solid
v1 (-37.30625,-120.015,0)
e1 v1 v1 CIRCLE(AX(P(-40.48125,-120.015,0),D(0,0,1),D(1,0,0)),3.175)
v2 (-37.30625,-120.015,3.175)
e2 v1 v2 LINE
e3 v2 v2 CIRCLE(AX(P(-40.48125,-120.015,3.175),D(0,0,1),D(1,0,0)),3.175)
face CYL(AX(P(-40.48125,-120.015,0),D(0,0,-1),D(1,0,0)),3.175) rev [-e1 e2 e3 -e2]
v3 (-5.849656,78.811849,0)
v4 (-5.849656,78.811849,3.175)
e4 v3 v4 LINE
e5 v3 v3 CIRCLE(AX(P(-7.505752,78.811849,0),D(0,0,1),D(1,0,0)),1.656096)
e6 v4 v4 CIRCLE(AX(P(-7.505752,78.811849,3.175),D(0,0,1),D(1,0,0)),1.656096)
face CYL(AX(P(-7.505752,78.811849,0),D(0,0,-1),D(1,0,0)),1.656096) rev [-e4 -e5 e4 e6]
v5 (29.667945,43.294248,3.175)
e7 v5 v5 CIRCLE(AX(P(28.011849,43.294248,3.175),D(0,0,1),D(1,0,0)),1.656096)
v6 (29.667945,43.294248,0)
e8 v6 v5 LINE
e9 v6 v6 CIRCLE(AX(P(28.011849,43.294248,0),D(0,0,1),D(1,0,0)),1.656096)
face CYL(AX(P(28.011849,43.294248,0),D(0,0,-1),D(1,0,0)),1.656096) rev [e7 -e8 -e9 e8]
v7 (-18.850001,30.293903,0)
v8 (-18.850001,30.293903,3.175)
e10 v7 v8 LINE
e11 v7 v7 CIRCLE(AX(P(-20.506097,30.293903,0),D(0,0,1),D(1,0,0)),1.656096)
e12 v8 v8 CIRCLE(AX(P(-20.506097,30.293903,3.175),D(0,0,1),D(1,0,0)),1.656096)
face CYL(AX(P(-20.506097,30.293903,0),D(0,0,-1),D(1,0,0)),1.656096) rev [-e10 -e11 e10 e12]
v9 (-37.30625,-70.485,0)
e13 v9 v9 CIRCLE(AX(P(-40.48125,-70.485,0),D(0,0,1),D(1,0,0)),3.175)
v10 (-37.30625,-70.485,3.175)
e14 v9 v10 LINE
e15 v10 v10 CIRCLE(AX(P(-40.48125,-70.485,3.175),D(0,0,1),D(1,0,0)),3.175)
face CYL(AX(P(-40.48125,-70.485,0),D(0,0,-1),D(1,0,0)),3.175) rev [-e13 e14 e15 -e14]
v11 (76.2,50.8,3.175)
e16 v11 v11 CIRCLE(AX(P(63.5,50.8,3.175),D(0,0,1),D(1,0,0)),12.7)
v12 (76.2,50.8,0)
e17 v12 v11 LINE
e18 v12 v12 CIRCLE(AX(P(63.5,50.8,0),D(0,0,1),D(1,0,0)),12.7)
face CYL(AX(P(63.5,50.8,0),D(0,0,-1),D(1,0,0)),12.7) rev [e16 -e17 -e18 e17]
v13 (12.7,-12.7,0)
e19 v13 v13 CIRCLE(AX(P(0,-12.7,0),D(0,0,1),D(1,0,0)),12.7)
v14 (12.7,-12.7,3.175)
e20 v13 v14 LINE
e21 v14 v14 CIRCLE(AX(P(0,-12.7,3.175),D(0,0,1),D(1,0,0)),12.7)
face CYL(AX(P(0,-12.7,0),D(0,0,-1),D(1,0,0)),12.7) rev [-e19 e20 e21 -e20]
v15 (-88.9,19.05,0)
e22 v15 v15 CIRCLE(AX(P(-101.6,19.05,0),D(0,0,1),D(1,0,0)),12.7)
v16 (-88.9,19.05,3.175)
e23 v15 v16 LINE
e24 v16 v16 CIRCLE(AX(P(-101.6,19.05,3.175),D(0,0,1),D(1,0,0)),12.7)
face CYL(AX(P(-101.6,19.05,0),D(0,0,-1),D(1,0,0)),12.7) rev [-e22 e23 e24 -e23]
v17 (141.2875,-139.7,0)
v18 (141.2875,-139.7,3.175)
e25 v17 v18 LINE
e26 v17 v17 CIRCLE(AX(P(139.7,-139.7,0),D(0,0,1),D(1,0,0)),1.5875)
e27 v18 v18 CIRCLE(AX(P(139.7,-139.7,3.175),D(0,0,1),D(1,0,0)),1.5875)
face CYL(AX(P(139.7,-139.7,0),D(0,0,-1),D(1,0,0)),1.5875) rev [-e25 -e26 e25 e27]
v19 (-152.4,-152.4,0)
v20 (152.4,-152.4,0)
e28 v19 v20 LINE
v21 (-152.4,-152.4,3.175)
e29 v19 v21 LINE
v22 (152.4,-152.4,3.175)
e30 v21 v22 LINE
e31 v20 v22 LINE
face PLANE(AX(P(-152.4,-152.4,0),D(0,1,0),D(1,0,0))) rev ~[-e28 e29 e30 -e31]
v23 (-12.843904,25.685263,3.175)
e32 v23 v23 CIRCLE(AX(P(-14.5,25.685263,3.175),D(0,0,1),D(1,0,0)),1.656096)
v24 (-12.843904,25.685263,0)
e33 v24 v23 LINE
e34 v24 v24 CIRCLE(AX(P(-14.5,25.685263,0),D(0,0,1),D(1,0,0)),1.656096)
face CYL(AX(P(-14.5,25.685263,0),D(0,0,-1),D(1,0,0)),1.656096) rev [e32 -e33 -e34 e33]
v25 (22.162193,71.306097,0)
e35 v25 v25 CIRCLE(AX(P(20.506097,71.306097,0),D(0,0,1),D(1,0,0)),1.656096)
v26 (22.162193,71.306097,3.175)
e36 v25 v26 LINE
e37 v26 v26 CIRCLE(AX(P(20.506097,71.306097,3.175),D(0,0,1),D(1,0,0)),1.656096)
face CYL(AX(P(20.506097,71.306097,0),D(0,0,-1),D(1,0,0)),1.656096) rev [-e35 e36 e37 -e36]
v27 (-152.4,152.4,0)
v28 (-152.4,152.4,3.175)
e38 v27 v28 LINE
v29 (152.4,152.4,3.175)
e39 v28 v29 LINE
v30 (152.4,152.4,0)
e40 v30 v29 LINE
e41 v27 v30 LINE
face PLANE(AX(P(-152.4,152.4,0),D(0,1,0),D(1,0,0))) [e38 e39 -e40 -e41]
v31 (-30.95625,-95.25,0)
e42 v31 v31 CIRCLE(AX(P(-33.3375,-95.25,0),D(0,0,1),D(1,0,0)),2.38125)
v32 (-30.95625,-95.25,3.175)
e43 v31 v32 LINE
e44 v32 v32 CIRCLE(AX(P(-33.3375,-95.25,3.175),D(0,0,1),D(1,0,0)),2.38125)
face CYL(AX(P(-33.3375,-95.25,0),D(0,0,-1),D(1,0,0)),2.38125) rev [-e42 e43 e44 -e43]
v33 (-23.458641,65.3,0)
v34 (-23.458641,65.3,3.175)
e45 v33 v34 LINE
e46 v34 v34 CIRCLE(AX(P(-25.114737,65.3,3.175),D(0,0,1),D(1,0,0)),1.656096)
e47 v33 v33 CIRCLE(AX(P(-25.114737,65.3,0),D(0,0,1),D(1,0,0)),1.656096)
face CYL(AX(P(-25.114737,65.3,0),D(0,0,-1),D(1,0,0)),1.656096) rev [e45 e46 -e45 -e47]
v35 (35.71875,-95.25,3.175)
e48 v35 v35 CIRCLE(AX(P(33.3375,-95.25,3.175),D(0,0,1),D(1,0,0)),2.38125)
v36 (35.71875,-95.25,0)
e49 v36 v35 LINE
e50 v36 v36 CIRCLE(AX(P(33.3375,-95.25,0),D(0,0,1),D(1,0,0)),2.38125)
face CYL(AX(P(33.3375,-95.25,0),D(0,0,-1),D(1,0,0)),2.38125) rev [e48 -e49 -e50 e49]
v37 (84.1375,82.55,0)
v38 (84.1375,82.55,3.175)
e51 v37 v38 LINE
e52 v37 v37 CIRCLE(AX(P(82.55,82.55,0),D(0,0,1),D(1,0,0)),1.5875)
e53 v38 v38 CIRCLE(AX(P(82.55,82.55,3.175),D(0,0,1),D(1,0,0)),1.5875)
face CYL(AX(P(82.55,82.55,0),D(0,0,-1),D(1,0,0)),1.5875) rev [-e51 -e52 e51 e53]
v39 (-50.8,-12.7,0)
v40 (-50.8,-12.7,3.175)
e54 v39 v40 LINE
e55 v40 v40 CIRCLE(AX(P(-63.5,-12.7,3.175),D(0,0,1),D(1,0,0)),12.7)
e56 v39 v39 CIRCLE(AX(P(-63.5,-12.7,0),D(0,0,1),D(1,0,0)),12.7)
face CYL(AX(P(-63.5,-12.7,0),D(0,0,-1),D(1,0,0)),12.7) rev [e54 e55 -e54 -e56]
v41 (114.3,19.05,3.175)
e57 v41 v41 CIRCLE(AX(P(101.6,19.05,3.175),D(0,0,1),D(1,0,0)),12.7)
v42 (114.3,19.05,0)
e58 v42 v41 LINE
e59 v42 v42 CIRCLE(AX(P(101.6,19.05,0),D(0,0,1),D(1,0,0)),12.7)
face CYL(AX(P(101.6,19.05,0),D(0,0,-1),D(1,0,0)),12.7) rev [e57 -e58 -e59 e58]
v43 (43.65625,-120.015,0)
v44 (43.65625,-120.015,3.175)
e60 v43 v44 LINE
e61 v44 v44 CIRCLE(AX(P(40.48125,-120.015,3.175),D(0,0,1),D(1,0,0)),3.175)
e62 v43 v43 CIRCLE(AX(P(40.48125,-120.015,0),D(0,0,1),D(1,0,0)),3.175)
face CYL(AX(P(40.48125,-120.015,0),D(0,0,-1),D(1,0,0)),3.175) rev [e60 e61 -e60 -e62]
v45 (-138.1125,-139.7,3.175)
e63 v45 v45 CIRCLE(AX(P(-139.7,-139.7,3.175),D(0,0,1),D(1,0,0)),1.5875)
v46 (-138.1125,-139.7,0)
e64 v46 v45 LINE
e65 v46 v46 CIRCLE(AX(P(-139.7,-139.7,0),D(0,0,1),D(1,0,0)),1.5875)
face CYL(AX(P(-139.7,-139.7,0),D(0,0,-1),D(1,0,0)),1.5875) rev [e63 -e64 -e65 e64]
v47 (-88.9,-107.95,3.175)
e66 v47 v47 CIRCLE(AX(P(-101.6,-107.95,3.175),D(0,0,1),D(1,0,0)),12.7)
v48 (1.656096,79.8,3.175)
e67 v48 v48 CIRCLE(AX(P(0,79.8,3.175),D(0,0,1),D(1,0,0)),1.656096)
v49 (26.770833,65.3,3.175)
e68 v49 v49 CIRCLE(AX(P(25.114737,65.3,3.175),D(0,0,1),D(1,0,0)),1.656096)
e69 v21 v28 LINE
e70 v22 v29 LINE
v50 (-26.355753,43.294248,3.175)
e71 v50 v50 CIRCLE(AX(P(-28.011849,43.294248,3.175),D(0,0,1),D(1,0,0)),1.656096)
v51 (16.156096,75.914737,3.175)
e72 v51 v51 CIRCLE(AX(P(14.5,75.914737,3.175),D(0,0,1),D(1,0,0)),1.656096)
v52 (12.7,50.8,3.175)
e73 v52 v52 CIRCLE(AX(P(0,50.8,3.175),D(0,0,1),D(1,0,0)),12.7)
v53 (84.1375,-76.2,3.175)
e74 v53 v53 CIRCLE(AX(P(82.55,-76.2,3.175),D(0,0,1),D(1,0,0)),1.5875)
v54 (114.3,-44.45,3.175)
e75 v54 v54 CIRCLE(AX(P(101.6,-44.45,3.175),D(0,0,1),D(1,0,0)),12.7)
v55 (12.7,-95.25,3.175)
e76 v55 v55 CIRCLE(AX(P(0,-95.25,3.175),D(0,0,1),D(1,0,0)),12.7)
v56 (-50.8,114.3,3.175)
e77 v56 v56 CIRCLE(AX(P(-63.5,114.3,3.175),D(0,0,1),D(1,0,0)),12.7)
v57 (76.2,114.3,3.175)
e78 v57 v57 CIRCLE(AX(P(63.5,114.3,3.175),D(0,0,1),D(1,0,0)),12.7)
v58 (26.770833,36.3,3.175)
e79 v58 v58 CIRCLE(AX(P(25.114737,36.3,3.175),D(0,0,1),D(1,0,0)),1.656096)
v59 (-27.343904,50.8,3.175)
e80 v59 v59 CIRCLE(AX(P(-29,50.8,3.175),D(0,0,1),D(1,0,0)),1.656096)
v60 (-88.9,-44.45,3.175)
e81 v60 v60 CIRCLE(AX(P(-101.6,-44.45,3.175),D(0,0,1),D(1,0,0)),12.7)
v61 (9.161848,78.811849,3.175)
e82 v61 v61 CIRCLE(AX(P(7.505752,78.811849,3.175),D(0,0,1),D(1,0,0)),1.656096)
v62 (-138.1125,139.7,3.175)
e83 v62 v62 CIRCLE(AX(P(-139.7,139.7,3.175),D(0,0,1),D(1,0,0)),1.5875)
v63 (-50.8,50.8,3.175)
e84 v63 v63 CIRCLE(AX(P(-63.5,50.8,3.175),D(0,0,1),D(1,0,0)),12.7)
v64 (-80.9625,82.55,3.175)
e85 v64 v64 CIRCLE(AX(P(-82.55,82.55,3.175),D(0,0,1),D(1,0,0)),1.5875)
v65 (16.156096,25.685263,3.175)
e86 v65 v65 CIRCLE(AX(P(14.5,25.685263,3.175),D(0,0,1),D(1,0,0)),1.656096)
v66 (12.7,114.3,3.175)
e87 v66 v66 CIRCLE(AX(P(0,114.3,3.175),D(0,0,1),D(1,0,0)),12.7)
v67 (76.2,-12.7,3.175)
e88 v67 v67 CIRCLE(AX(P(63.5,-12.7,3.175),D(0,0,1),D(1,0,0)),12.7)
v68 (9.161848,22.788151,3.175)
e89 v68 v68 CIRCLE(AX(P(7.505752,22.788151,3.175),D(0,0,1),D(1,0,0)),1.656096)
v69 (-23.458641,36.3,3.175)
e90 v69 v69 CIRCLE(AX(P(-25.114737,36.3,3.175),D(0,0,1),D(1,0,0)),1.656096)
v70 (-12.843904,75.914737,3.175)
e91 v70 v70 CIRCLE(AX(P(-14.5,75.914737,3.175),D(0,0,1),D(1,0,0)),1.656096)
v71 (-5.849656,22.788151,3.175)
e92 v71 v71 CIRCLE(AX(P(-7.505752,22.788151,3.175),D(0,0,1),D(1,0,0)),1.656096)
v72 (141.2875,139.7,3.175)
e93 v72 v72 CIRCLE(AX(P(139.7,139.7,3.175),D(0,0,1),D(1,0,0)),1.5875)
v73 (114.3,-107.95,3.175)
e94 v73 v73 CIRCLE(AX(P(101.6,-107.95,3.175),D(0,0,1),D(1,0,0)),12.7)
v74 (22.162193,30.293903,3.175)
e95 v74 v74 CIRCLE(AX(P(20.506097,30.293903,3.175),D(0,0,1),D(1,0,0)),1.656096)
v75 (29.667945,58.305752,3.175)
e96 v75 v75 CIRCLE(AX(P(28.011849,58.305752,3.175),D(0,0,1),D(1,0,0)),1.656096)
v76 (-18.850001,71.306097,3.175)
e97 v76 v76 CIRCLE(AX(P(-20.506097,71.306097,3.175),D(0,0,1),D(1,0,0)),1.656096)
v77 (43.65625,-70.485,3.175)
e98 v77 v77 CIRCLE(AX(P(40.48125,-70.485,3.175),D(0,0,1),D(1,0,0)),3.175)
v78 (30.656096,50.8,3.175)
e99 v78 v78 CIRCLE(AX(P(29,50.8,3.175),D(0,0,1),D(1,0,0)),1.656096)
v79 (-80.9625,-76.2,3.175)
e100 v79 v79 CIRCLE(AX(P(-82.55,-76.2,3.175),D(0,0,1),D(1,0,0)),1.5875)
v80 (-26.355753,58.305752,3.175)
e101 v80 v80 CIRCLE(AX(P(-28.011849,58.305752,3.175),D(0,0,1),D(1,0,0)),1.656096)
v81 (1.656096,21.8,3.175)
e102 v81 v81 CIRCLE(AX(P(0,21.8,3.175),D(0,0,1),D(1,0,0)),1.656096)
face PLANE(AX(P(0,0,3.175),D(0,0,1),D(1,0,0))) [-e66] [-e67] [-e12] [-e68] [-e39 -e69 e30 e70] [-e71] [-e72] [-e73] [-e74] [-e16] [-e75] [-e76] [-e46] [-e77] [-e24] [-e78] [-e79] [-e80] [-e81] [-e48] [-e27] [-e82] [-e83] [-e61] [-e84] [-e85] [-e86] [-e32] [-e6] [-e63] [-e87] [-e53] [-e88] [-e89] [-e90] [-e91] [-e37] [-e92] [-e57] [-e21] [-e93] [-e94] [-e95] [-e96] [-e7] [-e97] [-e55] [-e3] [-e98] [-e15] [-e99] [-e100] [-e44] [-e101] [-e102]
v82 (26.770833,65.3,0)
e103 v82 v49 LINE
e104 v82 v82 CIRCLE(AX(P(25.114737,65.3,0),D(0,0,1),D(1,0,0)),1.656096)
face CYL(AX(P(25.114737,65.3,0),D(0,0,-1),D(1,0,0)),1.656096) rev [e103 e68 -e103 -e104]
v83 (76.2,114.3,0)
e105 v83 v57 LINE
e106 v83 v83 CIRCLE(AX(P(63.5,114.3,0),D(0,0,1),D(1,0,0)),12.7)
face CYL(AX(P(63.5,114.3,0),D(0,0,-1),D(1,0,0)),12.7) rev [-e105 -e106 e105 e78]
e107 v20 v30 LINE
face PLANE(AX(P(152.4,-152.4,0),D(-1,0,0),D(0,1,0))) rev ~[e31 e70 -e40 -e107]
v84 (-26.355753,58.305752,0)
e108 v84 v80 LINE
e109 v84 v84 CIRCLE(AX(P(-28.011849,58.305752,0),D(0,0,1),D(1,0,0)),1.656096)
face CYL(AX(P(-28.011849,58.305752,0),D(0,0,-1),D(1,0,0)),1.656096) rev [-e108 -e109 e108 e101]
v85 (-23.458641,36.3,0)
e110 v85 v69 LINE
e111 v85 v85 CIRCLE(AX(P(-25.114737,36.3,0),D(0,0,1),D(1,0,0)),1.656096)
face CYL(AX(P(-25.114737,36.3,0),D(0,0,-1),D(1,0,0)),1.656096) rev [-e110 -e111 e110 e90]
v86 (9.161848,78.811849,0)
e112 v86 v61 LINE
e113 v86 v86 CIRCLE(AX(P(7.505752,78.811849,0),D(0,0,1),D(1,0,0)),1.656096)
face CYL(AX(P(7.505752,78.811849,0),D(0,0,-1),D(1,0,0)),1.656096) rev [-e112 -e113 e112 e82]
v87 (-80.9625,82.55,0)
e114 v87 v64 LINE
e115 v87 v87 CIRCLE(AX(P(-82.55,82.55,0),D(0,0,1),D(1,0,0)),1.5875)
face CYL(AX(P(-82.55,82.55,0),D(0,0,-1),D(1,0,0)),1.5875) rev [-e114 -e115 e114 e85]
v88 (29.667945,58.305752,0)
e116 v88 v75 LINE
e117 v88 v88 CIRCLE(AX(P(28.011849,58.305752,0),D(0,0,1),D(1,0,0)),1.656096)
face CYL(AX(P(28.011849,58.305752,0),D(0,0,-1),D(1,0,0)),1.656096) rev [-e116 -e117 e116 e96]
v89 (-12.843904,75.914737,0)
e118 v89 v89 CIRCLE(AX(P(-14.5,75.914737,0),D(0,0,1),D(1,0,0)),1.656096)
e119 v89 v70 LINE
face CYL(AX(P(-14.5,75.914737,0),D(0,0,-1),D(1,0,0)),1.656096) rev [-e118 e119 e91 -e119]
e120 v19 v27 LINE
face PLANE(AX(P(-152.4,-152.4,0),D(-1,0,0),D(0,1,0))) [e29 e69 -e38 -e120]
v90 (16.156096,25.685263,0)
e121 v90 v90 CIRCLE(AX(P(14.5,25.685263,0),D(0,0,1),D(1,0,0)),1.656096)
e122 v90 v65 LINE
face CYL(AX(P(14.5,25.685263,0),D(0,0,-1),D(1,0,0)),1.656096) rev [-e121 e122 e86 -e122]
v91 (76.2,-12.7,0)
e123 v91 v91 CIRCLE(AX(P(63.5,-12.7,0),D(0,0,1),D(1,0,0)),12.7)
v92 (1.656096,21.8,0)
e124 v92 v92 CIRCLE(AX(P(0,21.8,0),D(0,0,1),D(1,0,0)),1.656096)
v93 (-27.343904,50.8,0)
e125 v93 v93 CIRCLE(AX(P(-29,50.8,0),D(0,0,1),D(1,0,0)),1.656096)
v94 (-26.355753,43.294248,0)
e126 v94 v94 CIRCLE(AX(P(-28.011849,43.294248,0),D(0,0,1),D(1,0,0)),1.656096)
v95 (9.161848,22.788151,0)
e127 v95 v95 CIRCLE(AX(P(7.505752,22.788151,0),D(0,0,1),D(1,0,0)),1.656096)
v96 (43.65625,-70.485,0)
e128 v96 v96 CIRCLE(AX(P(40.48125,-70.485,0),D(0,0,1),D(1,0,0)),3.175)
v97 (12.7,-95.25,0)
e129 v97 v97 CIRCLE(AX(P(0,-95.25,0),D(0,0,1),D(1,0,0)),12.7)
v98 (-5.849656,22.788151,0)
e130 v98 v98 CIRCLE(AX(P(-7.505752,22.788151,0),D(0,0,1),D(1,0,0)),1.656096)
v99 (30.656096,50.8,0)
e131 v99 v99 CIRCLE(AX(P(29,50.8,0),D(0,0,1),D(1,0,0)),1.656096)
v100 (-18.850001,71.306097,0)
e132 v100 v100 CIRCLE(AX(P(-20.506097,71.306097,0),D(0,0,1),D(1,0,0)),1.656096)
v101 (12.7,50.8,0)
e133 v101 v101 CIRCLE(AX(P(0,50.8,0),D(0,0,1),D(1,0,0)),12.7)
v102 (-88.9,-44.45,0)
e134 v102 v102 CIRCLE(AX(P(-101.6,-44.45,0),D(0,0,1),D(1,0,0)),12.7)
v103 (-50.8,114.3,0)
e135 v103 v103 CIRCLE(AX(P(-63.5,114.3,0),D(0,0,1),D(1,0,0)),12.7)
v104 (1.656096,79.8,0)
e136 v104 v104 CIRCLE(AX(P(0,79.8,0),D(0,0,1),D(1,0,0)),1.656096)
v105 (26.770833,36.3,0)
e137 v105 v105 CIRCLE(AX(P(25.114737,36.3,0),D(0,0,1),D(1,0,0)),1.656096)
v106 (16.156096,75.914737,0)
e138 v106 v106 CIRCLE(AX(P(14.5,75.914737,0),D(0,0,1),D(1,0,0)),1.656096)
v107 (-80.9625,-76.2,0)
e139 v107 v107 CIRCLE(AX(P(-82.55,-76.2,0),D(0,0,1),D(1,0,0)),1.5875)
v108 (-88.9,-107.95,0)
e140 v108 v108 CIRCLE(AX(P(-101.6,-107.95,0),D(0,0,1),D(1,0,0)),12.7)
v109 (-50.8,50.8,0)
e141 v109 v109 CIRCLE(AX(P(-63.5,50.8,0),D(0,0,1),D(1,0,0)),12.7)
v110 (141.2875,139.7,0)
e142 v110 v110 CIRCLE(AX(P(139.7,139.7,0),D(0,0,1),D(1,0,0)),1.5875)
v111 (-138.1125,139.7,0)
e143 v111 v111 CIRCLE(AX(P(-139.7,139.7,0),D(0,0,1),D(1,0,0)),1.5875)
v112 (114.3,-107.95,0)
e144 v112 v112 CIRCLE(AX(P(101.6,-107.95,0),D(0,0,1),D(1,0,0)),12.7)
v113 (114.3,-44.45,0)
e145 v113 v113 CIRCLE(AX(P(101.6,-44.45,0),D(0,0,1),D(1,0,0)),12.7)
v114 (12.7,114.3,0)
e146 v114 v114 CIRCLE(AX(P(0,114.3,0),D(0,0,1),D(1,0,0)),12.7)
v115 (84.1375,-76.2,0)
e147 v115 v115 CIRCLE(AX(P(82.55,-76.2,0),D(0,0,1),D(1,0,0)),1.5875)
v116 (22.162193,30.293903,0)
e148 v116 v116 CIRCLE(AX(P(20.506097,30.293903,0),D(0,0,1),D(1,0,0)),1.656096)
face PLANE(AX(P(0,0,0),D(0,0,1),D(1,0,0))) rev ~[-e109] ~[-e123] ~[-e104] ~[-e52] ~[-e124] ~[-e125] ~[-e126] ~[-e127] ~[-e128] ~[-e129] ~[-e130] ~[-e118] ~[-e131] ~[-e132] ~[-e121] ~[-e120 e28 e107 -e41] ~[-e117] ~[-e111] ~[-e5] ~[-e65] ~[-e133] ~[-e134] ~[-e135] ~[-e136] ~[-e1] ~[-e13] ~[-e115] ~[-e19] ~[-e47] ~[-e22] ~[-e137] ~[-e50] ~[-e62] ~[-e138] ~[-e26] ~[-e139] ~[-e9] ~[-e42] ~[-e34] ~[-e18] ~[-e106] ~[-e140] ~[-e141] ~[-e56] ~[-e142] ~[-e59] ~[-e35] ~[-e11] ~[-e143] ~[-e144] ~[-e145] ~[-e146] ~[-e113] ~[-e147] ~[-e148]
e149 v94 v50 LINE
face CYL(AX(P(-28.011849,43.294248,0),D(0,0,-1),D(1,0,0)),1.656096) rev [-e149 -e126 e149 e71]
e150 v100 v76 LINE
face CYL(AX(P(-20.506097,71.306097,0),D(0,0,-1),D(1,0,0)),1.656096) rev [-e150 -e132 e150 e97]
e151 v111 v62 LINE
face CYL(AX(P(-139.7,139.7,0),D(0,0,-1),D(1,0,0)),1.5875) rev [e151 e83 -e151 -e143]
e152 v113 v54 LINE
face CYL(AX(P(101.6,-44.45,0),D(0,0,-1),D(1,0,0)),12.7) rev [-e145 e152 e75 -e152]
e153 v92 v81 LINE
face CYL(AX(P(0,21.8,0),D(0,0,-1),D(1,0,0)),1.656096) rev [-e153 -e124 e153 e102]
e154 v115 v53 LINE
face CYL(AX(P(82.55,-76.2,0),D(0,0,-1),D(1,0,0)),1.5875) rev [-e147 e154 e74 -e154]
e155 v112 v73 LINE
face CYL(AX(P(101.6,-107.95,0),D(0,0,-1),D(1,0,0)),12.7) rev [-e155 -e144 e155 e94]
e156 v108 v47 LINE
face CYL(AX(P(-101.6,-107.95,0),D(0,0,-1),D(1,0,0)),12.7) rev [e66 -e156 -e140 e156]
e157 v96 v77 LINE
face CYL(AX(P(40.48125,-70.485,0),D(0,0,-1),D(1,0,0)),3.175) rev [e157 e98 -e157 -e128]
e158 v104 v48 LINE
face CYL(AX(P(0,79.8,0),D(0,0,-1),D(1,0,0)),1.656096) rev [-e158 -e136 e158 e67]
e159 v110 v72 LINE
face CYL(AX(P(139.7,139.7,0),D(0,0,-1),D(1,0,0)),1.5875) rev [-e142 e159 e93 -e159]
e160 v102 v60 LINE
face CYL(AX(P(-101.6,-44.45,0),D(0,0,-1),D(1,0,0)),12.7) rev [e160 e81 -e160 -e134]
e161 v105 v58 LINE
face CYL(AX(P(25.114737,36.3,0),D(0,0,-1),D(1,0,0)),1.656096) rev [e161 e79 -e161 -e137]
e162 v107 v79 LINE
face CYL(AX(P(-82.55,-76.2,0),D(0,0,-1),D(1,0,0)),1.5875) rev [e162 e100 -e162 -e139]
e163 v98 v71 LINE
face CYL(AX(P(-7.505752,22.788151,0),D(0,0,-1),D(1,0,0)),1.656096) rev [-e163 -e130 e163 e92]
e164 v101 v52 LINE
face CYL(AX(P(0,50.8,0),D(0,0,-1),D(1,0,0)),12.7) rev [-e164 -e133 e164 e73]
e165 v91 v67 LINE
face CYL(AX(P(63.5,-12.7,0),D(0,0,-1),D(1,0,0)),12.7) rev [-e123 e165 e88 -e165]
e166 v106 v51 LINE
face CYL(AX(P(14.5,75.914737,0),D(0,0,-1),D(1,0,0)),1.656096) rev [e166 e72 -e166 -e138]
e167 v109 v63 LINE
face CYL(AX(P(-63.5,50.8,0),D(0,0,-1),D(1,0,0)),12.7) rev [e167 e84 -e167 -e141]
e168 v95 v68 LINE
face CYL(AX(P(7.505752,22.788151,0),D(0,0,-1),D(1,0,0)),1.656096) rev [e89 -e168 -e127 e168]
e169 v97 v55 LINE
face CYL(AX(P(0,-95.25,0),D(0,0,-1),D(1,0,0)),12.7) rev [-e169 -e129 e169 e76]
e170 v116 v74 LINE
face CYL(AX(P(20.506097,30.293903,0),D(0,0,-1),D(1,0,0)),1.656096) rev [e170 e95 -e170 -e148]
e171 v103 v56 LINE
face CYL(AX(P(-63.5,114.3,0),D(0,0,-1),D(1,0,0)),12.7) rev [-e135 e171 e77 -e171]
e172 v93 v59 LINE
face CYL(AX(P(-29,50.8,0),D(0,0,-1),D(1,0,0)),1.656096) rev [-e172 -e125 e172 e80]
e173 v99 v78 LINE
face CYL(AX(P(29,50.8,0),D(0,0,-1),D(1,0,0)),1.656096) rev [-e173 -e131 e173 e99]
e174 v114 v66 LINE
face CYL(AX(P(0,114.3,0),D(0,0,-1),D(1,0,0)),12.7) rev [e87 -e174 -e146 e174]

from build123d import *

# Parameters (mm, degrees)
F0_W     = 304.8
F0_H     = 304.8
F0_R     = 1.5875
F0_R_2   = 12.7
F0_R_3   = 3.175
F0_R_4   = 2.38125
F0_R_5   = 1.656096
F1_DEPTH = 3.175


with BuildPart() as f1:
    # F0 (on Top) → F1 (new body)
    with BuildSketch(Plane.XY):
        Rectangle(F0_W, F0_H)
        with Locations((-139.7, -139.7)):
            Circle(F0_R, mode=Mode.SUBTRACT)
        with Locations((-101.6, -107.95)):
            Circle(F0_R_2, mode=Mode.SUBTRACT)
        with Locations((-40.48125, -120.015)):
            Circle(F0_R_3, mode=Mode.SUBTRACT)
        with Locations((-33.3375, -95.25)):
            Circle(F0_R_4, mode=Mode.SUBTRACT)
        with Locations((-82.55, -76.2)):
            Circle(F0_R, mode=Mode.SUBTRACT)
        with Locations((-101.6, -44.45)):
            Circle(F0_R_2, mode=Mode.SUBTRACT)
        with Locations((-40.48125, -70.485)):
            Circle(F0_R_3, mode=Mode.SUBTRACT)
        with Locations((-63.5, -12.7)):
            Circle(F0_R_2, mode=Mode.SUBTRACT)
        with Locations((40.48125, -120.015)):
            Circle(F0_R_3, mode=Mode.SUBTRACT)
        with Locations((0, -95.25)):
            Circle(F0_R_2, mode=Mode.SUBTRACT)
        with Locations((33.3375, -95.25)):
            Circle(F0_R_4, mode=Mode.SUBTRACT)
        with Locations((139.7, -139.7)):
            Circle(F0_R, mode=Mode.SUBTRACT)
        with Locations((101.6, -107.95)):
            Circle(F0_R_2, mode=Mode.SUBTRACT)
        with Locations((40.48125, -70.485)):
            Circle(F0_R_3, mode=Mode.SUBTRACT)
        with Locations((0, -12.7)):
            Circle(F0_R_2, mode=Mode.SUBTRACT)
        with Locations((63.5, -12.7)):
            Circle(F0_R_2, mode=Mode.SUBTRACT)
        with Locations((82.55, -76.2)):
            Circle(F0_R, mode=Mode.SUBTRACT)
        with Locations((101.6, -44.45)):
            Circle(F0_R_2, mode=Mode.SUBTRACT)
        with Locations((-101.6, 19.05)):
            Circle(F0_R_2, mode=Mode.SUBTRACT)
        with Locations((-20.506097, 30.293903)):
            Circle(F0_R_5, mode=Mode.SUBTRACT)
        with Locations((-25.114737, 36.3)):
            Circle(F0_R_5, mode=Mode.SUBTRACT)
        with Locations((-14.5, 25.685263)):
            Circle(F0_R_5, mode=Mode.SUBTRACT)
        with Locations((-7.505752, 22.788151)):
            Circle(F0_R_5, mode=Mode.SUBTRACT)
        with Locations((-63.5, 50.8)):
            Circle(F0_R_2, mode=Mode.SUBTRACT)
        with Locations((-28.011849, 43.294248)):
            Circle(F0_R_5, mode=Mode.SUBTRACT)
        with Locations((-29, 50.8)):
            Circle(F0_R_5, mode=Mode.SUBTRACT)
        with Locations((-28.011849, 58.305752)):
            Circle(F0_R_5, mode=Mode.SUBTRACT)
        with Locations((-25.114737, 65.3)):
            Circle(F0_R_5, mode=Mode.SUBTRACT)
        with Locations((-20.506097, 71.306097)):
            Circle(F0_R_5, mode=Mode.SUBTRACT)
        with Locations((-14.5, 75.914737)):
            Circle(F0_R_5, mode=Mode.SUBTRACT)
        with Locations((-82.55, 82.55)):
            Circle(F0_R, mode=Mode.SUBTRACT)
        with Locations((-139.7, 139.7)):
            Circle(F0_R, mode=Mode.SUBTRACT)
        with Locations((-7.505752, 78.811849)):
            Circle(F0_R_5, mode=Mode.SUBTRACT)
        with Locations((-63.5, 114.3)):
            Circle(F0_R_2, mode=Mode.SUBTRACT)
        with Locations((0, 21.8)):
            Circle(F0_R_5, mode=Mode.SUBTRACT)
        with Locations((7.505752, 22.788151)):
            Circle(F0_R_5, mode=Mode.SUBTRACT)
        with Locations((14.5, 25.685263)):
            Circle(F0_R_5, mode=Mode.SUBTRACT)
        with Locations((20.506097, 30.293903)):
            Circle(F0_R_5, mode=Mode.SUBTRACT)
        with Locations((25.114737, 36.3)):
            Circle(F0_R_5, mode=Mode.SUBTRACT)
        with Locations((0, 50.8)):
            Circle(F0_R_2, mode=Mode.SUBTRACT)
        with Locations((28.011849, 43.294248)):
            Circle(F0_R_5, mode=Mode.SUBTRACT)
        with Locations((29, 50.8)):
            Circle(F0_R_5, mode=Mode.SUBTRACT)
        with Locations((14.5, 75.914737)):
            Circle(F0_R_5, mode=Mode.SUBTRACT)
        with Locations((28.011849, 58.305752)):
            Circle(F0_R_5, mode=Mode.SUBTRACT)
        with Locations((25.114737, 65.3)):
            Circle(F0_R_5, mode=Mode.SUBTRACT)
        with Locations((20.506097, 71.306097)):
            Circle(F0_R_5, mode=Mode.SUBTRACT)
        with Locations((63.5, 50.8)):
            Circle(F0_R_2, mode=Mode.SUBTRACT)
        with Locations((101.6, 19.05)):
            Circle(F0_R_2, mode=Mode.SUBTRACT)
        with Locations((0, 79.8)):
            Circle(F0_R_5, mode=Mode.SUBTRACT)
        with Locations((7.505752, 78.811849)):
            Circle(F0_R_5, mode=Mode.SUBTRACT)
        with Locations((0, 114.3)):
            Circle(F0_R_2, mode=Mode.SUBTRACT)
        with Locations((63.5, 114.3)):
            Circle(F0_R_2, mode=Mode.SUBTRACT)
        with Locations((82.55, 82.55)):
            Circle(F0_R, mode=Mode.SUBTRACT)
        with Locations((139.7, 139.7)):
            Circle(F0_R, mode=Mode.SUBTRACT)
    extrude(amount=F1_DEPTH)


solid = f1.part
